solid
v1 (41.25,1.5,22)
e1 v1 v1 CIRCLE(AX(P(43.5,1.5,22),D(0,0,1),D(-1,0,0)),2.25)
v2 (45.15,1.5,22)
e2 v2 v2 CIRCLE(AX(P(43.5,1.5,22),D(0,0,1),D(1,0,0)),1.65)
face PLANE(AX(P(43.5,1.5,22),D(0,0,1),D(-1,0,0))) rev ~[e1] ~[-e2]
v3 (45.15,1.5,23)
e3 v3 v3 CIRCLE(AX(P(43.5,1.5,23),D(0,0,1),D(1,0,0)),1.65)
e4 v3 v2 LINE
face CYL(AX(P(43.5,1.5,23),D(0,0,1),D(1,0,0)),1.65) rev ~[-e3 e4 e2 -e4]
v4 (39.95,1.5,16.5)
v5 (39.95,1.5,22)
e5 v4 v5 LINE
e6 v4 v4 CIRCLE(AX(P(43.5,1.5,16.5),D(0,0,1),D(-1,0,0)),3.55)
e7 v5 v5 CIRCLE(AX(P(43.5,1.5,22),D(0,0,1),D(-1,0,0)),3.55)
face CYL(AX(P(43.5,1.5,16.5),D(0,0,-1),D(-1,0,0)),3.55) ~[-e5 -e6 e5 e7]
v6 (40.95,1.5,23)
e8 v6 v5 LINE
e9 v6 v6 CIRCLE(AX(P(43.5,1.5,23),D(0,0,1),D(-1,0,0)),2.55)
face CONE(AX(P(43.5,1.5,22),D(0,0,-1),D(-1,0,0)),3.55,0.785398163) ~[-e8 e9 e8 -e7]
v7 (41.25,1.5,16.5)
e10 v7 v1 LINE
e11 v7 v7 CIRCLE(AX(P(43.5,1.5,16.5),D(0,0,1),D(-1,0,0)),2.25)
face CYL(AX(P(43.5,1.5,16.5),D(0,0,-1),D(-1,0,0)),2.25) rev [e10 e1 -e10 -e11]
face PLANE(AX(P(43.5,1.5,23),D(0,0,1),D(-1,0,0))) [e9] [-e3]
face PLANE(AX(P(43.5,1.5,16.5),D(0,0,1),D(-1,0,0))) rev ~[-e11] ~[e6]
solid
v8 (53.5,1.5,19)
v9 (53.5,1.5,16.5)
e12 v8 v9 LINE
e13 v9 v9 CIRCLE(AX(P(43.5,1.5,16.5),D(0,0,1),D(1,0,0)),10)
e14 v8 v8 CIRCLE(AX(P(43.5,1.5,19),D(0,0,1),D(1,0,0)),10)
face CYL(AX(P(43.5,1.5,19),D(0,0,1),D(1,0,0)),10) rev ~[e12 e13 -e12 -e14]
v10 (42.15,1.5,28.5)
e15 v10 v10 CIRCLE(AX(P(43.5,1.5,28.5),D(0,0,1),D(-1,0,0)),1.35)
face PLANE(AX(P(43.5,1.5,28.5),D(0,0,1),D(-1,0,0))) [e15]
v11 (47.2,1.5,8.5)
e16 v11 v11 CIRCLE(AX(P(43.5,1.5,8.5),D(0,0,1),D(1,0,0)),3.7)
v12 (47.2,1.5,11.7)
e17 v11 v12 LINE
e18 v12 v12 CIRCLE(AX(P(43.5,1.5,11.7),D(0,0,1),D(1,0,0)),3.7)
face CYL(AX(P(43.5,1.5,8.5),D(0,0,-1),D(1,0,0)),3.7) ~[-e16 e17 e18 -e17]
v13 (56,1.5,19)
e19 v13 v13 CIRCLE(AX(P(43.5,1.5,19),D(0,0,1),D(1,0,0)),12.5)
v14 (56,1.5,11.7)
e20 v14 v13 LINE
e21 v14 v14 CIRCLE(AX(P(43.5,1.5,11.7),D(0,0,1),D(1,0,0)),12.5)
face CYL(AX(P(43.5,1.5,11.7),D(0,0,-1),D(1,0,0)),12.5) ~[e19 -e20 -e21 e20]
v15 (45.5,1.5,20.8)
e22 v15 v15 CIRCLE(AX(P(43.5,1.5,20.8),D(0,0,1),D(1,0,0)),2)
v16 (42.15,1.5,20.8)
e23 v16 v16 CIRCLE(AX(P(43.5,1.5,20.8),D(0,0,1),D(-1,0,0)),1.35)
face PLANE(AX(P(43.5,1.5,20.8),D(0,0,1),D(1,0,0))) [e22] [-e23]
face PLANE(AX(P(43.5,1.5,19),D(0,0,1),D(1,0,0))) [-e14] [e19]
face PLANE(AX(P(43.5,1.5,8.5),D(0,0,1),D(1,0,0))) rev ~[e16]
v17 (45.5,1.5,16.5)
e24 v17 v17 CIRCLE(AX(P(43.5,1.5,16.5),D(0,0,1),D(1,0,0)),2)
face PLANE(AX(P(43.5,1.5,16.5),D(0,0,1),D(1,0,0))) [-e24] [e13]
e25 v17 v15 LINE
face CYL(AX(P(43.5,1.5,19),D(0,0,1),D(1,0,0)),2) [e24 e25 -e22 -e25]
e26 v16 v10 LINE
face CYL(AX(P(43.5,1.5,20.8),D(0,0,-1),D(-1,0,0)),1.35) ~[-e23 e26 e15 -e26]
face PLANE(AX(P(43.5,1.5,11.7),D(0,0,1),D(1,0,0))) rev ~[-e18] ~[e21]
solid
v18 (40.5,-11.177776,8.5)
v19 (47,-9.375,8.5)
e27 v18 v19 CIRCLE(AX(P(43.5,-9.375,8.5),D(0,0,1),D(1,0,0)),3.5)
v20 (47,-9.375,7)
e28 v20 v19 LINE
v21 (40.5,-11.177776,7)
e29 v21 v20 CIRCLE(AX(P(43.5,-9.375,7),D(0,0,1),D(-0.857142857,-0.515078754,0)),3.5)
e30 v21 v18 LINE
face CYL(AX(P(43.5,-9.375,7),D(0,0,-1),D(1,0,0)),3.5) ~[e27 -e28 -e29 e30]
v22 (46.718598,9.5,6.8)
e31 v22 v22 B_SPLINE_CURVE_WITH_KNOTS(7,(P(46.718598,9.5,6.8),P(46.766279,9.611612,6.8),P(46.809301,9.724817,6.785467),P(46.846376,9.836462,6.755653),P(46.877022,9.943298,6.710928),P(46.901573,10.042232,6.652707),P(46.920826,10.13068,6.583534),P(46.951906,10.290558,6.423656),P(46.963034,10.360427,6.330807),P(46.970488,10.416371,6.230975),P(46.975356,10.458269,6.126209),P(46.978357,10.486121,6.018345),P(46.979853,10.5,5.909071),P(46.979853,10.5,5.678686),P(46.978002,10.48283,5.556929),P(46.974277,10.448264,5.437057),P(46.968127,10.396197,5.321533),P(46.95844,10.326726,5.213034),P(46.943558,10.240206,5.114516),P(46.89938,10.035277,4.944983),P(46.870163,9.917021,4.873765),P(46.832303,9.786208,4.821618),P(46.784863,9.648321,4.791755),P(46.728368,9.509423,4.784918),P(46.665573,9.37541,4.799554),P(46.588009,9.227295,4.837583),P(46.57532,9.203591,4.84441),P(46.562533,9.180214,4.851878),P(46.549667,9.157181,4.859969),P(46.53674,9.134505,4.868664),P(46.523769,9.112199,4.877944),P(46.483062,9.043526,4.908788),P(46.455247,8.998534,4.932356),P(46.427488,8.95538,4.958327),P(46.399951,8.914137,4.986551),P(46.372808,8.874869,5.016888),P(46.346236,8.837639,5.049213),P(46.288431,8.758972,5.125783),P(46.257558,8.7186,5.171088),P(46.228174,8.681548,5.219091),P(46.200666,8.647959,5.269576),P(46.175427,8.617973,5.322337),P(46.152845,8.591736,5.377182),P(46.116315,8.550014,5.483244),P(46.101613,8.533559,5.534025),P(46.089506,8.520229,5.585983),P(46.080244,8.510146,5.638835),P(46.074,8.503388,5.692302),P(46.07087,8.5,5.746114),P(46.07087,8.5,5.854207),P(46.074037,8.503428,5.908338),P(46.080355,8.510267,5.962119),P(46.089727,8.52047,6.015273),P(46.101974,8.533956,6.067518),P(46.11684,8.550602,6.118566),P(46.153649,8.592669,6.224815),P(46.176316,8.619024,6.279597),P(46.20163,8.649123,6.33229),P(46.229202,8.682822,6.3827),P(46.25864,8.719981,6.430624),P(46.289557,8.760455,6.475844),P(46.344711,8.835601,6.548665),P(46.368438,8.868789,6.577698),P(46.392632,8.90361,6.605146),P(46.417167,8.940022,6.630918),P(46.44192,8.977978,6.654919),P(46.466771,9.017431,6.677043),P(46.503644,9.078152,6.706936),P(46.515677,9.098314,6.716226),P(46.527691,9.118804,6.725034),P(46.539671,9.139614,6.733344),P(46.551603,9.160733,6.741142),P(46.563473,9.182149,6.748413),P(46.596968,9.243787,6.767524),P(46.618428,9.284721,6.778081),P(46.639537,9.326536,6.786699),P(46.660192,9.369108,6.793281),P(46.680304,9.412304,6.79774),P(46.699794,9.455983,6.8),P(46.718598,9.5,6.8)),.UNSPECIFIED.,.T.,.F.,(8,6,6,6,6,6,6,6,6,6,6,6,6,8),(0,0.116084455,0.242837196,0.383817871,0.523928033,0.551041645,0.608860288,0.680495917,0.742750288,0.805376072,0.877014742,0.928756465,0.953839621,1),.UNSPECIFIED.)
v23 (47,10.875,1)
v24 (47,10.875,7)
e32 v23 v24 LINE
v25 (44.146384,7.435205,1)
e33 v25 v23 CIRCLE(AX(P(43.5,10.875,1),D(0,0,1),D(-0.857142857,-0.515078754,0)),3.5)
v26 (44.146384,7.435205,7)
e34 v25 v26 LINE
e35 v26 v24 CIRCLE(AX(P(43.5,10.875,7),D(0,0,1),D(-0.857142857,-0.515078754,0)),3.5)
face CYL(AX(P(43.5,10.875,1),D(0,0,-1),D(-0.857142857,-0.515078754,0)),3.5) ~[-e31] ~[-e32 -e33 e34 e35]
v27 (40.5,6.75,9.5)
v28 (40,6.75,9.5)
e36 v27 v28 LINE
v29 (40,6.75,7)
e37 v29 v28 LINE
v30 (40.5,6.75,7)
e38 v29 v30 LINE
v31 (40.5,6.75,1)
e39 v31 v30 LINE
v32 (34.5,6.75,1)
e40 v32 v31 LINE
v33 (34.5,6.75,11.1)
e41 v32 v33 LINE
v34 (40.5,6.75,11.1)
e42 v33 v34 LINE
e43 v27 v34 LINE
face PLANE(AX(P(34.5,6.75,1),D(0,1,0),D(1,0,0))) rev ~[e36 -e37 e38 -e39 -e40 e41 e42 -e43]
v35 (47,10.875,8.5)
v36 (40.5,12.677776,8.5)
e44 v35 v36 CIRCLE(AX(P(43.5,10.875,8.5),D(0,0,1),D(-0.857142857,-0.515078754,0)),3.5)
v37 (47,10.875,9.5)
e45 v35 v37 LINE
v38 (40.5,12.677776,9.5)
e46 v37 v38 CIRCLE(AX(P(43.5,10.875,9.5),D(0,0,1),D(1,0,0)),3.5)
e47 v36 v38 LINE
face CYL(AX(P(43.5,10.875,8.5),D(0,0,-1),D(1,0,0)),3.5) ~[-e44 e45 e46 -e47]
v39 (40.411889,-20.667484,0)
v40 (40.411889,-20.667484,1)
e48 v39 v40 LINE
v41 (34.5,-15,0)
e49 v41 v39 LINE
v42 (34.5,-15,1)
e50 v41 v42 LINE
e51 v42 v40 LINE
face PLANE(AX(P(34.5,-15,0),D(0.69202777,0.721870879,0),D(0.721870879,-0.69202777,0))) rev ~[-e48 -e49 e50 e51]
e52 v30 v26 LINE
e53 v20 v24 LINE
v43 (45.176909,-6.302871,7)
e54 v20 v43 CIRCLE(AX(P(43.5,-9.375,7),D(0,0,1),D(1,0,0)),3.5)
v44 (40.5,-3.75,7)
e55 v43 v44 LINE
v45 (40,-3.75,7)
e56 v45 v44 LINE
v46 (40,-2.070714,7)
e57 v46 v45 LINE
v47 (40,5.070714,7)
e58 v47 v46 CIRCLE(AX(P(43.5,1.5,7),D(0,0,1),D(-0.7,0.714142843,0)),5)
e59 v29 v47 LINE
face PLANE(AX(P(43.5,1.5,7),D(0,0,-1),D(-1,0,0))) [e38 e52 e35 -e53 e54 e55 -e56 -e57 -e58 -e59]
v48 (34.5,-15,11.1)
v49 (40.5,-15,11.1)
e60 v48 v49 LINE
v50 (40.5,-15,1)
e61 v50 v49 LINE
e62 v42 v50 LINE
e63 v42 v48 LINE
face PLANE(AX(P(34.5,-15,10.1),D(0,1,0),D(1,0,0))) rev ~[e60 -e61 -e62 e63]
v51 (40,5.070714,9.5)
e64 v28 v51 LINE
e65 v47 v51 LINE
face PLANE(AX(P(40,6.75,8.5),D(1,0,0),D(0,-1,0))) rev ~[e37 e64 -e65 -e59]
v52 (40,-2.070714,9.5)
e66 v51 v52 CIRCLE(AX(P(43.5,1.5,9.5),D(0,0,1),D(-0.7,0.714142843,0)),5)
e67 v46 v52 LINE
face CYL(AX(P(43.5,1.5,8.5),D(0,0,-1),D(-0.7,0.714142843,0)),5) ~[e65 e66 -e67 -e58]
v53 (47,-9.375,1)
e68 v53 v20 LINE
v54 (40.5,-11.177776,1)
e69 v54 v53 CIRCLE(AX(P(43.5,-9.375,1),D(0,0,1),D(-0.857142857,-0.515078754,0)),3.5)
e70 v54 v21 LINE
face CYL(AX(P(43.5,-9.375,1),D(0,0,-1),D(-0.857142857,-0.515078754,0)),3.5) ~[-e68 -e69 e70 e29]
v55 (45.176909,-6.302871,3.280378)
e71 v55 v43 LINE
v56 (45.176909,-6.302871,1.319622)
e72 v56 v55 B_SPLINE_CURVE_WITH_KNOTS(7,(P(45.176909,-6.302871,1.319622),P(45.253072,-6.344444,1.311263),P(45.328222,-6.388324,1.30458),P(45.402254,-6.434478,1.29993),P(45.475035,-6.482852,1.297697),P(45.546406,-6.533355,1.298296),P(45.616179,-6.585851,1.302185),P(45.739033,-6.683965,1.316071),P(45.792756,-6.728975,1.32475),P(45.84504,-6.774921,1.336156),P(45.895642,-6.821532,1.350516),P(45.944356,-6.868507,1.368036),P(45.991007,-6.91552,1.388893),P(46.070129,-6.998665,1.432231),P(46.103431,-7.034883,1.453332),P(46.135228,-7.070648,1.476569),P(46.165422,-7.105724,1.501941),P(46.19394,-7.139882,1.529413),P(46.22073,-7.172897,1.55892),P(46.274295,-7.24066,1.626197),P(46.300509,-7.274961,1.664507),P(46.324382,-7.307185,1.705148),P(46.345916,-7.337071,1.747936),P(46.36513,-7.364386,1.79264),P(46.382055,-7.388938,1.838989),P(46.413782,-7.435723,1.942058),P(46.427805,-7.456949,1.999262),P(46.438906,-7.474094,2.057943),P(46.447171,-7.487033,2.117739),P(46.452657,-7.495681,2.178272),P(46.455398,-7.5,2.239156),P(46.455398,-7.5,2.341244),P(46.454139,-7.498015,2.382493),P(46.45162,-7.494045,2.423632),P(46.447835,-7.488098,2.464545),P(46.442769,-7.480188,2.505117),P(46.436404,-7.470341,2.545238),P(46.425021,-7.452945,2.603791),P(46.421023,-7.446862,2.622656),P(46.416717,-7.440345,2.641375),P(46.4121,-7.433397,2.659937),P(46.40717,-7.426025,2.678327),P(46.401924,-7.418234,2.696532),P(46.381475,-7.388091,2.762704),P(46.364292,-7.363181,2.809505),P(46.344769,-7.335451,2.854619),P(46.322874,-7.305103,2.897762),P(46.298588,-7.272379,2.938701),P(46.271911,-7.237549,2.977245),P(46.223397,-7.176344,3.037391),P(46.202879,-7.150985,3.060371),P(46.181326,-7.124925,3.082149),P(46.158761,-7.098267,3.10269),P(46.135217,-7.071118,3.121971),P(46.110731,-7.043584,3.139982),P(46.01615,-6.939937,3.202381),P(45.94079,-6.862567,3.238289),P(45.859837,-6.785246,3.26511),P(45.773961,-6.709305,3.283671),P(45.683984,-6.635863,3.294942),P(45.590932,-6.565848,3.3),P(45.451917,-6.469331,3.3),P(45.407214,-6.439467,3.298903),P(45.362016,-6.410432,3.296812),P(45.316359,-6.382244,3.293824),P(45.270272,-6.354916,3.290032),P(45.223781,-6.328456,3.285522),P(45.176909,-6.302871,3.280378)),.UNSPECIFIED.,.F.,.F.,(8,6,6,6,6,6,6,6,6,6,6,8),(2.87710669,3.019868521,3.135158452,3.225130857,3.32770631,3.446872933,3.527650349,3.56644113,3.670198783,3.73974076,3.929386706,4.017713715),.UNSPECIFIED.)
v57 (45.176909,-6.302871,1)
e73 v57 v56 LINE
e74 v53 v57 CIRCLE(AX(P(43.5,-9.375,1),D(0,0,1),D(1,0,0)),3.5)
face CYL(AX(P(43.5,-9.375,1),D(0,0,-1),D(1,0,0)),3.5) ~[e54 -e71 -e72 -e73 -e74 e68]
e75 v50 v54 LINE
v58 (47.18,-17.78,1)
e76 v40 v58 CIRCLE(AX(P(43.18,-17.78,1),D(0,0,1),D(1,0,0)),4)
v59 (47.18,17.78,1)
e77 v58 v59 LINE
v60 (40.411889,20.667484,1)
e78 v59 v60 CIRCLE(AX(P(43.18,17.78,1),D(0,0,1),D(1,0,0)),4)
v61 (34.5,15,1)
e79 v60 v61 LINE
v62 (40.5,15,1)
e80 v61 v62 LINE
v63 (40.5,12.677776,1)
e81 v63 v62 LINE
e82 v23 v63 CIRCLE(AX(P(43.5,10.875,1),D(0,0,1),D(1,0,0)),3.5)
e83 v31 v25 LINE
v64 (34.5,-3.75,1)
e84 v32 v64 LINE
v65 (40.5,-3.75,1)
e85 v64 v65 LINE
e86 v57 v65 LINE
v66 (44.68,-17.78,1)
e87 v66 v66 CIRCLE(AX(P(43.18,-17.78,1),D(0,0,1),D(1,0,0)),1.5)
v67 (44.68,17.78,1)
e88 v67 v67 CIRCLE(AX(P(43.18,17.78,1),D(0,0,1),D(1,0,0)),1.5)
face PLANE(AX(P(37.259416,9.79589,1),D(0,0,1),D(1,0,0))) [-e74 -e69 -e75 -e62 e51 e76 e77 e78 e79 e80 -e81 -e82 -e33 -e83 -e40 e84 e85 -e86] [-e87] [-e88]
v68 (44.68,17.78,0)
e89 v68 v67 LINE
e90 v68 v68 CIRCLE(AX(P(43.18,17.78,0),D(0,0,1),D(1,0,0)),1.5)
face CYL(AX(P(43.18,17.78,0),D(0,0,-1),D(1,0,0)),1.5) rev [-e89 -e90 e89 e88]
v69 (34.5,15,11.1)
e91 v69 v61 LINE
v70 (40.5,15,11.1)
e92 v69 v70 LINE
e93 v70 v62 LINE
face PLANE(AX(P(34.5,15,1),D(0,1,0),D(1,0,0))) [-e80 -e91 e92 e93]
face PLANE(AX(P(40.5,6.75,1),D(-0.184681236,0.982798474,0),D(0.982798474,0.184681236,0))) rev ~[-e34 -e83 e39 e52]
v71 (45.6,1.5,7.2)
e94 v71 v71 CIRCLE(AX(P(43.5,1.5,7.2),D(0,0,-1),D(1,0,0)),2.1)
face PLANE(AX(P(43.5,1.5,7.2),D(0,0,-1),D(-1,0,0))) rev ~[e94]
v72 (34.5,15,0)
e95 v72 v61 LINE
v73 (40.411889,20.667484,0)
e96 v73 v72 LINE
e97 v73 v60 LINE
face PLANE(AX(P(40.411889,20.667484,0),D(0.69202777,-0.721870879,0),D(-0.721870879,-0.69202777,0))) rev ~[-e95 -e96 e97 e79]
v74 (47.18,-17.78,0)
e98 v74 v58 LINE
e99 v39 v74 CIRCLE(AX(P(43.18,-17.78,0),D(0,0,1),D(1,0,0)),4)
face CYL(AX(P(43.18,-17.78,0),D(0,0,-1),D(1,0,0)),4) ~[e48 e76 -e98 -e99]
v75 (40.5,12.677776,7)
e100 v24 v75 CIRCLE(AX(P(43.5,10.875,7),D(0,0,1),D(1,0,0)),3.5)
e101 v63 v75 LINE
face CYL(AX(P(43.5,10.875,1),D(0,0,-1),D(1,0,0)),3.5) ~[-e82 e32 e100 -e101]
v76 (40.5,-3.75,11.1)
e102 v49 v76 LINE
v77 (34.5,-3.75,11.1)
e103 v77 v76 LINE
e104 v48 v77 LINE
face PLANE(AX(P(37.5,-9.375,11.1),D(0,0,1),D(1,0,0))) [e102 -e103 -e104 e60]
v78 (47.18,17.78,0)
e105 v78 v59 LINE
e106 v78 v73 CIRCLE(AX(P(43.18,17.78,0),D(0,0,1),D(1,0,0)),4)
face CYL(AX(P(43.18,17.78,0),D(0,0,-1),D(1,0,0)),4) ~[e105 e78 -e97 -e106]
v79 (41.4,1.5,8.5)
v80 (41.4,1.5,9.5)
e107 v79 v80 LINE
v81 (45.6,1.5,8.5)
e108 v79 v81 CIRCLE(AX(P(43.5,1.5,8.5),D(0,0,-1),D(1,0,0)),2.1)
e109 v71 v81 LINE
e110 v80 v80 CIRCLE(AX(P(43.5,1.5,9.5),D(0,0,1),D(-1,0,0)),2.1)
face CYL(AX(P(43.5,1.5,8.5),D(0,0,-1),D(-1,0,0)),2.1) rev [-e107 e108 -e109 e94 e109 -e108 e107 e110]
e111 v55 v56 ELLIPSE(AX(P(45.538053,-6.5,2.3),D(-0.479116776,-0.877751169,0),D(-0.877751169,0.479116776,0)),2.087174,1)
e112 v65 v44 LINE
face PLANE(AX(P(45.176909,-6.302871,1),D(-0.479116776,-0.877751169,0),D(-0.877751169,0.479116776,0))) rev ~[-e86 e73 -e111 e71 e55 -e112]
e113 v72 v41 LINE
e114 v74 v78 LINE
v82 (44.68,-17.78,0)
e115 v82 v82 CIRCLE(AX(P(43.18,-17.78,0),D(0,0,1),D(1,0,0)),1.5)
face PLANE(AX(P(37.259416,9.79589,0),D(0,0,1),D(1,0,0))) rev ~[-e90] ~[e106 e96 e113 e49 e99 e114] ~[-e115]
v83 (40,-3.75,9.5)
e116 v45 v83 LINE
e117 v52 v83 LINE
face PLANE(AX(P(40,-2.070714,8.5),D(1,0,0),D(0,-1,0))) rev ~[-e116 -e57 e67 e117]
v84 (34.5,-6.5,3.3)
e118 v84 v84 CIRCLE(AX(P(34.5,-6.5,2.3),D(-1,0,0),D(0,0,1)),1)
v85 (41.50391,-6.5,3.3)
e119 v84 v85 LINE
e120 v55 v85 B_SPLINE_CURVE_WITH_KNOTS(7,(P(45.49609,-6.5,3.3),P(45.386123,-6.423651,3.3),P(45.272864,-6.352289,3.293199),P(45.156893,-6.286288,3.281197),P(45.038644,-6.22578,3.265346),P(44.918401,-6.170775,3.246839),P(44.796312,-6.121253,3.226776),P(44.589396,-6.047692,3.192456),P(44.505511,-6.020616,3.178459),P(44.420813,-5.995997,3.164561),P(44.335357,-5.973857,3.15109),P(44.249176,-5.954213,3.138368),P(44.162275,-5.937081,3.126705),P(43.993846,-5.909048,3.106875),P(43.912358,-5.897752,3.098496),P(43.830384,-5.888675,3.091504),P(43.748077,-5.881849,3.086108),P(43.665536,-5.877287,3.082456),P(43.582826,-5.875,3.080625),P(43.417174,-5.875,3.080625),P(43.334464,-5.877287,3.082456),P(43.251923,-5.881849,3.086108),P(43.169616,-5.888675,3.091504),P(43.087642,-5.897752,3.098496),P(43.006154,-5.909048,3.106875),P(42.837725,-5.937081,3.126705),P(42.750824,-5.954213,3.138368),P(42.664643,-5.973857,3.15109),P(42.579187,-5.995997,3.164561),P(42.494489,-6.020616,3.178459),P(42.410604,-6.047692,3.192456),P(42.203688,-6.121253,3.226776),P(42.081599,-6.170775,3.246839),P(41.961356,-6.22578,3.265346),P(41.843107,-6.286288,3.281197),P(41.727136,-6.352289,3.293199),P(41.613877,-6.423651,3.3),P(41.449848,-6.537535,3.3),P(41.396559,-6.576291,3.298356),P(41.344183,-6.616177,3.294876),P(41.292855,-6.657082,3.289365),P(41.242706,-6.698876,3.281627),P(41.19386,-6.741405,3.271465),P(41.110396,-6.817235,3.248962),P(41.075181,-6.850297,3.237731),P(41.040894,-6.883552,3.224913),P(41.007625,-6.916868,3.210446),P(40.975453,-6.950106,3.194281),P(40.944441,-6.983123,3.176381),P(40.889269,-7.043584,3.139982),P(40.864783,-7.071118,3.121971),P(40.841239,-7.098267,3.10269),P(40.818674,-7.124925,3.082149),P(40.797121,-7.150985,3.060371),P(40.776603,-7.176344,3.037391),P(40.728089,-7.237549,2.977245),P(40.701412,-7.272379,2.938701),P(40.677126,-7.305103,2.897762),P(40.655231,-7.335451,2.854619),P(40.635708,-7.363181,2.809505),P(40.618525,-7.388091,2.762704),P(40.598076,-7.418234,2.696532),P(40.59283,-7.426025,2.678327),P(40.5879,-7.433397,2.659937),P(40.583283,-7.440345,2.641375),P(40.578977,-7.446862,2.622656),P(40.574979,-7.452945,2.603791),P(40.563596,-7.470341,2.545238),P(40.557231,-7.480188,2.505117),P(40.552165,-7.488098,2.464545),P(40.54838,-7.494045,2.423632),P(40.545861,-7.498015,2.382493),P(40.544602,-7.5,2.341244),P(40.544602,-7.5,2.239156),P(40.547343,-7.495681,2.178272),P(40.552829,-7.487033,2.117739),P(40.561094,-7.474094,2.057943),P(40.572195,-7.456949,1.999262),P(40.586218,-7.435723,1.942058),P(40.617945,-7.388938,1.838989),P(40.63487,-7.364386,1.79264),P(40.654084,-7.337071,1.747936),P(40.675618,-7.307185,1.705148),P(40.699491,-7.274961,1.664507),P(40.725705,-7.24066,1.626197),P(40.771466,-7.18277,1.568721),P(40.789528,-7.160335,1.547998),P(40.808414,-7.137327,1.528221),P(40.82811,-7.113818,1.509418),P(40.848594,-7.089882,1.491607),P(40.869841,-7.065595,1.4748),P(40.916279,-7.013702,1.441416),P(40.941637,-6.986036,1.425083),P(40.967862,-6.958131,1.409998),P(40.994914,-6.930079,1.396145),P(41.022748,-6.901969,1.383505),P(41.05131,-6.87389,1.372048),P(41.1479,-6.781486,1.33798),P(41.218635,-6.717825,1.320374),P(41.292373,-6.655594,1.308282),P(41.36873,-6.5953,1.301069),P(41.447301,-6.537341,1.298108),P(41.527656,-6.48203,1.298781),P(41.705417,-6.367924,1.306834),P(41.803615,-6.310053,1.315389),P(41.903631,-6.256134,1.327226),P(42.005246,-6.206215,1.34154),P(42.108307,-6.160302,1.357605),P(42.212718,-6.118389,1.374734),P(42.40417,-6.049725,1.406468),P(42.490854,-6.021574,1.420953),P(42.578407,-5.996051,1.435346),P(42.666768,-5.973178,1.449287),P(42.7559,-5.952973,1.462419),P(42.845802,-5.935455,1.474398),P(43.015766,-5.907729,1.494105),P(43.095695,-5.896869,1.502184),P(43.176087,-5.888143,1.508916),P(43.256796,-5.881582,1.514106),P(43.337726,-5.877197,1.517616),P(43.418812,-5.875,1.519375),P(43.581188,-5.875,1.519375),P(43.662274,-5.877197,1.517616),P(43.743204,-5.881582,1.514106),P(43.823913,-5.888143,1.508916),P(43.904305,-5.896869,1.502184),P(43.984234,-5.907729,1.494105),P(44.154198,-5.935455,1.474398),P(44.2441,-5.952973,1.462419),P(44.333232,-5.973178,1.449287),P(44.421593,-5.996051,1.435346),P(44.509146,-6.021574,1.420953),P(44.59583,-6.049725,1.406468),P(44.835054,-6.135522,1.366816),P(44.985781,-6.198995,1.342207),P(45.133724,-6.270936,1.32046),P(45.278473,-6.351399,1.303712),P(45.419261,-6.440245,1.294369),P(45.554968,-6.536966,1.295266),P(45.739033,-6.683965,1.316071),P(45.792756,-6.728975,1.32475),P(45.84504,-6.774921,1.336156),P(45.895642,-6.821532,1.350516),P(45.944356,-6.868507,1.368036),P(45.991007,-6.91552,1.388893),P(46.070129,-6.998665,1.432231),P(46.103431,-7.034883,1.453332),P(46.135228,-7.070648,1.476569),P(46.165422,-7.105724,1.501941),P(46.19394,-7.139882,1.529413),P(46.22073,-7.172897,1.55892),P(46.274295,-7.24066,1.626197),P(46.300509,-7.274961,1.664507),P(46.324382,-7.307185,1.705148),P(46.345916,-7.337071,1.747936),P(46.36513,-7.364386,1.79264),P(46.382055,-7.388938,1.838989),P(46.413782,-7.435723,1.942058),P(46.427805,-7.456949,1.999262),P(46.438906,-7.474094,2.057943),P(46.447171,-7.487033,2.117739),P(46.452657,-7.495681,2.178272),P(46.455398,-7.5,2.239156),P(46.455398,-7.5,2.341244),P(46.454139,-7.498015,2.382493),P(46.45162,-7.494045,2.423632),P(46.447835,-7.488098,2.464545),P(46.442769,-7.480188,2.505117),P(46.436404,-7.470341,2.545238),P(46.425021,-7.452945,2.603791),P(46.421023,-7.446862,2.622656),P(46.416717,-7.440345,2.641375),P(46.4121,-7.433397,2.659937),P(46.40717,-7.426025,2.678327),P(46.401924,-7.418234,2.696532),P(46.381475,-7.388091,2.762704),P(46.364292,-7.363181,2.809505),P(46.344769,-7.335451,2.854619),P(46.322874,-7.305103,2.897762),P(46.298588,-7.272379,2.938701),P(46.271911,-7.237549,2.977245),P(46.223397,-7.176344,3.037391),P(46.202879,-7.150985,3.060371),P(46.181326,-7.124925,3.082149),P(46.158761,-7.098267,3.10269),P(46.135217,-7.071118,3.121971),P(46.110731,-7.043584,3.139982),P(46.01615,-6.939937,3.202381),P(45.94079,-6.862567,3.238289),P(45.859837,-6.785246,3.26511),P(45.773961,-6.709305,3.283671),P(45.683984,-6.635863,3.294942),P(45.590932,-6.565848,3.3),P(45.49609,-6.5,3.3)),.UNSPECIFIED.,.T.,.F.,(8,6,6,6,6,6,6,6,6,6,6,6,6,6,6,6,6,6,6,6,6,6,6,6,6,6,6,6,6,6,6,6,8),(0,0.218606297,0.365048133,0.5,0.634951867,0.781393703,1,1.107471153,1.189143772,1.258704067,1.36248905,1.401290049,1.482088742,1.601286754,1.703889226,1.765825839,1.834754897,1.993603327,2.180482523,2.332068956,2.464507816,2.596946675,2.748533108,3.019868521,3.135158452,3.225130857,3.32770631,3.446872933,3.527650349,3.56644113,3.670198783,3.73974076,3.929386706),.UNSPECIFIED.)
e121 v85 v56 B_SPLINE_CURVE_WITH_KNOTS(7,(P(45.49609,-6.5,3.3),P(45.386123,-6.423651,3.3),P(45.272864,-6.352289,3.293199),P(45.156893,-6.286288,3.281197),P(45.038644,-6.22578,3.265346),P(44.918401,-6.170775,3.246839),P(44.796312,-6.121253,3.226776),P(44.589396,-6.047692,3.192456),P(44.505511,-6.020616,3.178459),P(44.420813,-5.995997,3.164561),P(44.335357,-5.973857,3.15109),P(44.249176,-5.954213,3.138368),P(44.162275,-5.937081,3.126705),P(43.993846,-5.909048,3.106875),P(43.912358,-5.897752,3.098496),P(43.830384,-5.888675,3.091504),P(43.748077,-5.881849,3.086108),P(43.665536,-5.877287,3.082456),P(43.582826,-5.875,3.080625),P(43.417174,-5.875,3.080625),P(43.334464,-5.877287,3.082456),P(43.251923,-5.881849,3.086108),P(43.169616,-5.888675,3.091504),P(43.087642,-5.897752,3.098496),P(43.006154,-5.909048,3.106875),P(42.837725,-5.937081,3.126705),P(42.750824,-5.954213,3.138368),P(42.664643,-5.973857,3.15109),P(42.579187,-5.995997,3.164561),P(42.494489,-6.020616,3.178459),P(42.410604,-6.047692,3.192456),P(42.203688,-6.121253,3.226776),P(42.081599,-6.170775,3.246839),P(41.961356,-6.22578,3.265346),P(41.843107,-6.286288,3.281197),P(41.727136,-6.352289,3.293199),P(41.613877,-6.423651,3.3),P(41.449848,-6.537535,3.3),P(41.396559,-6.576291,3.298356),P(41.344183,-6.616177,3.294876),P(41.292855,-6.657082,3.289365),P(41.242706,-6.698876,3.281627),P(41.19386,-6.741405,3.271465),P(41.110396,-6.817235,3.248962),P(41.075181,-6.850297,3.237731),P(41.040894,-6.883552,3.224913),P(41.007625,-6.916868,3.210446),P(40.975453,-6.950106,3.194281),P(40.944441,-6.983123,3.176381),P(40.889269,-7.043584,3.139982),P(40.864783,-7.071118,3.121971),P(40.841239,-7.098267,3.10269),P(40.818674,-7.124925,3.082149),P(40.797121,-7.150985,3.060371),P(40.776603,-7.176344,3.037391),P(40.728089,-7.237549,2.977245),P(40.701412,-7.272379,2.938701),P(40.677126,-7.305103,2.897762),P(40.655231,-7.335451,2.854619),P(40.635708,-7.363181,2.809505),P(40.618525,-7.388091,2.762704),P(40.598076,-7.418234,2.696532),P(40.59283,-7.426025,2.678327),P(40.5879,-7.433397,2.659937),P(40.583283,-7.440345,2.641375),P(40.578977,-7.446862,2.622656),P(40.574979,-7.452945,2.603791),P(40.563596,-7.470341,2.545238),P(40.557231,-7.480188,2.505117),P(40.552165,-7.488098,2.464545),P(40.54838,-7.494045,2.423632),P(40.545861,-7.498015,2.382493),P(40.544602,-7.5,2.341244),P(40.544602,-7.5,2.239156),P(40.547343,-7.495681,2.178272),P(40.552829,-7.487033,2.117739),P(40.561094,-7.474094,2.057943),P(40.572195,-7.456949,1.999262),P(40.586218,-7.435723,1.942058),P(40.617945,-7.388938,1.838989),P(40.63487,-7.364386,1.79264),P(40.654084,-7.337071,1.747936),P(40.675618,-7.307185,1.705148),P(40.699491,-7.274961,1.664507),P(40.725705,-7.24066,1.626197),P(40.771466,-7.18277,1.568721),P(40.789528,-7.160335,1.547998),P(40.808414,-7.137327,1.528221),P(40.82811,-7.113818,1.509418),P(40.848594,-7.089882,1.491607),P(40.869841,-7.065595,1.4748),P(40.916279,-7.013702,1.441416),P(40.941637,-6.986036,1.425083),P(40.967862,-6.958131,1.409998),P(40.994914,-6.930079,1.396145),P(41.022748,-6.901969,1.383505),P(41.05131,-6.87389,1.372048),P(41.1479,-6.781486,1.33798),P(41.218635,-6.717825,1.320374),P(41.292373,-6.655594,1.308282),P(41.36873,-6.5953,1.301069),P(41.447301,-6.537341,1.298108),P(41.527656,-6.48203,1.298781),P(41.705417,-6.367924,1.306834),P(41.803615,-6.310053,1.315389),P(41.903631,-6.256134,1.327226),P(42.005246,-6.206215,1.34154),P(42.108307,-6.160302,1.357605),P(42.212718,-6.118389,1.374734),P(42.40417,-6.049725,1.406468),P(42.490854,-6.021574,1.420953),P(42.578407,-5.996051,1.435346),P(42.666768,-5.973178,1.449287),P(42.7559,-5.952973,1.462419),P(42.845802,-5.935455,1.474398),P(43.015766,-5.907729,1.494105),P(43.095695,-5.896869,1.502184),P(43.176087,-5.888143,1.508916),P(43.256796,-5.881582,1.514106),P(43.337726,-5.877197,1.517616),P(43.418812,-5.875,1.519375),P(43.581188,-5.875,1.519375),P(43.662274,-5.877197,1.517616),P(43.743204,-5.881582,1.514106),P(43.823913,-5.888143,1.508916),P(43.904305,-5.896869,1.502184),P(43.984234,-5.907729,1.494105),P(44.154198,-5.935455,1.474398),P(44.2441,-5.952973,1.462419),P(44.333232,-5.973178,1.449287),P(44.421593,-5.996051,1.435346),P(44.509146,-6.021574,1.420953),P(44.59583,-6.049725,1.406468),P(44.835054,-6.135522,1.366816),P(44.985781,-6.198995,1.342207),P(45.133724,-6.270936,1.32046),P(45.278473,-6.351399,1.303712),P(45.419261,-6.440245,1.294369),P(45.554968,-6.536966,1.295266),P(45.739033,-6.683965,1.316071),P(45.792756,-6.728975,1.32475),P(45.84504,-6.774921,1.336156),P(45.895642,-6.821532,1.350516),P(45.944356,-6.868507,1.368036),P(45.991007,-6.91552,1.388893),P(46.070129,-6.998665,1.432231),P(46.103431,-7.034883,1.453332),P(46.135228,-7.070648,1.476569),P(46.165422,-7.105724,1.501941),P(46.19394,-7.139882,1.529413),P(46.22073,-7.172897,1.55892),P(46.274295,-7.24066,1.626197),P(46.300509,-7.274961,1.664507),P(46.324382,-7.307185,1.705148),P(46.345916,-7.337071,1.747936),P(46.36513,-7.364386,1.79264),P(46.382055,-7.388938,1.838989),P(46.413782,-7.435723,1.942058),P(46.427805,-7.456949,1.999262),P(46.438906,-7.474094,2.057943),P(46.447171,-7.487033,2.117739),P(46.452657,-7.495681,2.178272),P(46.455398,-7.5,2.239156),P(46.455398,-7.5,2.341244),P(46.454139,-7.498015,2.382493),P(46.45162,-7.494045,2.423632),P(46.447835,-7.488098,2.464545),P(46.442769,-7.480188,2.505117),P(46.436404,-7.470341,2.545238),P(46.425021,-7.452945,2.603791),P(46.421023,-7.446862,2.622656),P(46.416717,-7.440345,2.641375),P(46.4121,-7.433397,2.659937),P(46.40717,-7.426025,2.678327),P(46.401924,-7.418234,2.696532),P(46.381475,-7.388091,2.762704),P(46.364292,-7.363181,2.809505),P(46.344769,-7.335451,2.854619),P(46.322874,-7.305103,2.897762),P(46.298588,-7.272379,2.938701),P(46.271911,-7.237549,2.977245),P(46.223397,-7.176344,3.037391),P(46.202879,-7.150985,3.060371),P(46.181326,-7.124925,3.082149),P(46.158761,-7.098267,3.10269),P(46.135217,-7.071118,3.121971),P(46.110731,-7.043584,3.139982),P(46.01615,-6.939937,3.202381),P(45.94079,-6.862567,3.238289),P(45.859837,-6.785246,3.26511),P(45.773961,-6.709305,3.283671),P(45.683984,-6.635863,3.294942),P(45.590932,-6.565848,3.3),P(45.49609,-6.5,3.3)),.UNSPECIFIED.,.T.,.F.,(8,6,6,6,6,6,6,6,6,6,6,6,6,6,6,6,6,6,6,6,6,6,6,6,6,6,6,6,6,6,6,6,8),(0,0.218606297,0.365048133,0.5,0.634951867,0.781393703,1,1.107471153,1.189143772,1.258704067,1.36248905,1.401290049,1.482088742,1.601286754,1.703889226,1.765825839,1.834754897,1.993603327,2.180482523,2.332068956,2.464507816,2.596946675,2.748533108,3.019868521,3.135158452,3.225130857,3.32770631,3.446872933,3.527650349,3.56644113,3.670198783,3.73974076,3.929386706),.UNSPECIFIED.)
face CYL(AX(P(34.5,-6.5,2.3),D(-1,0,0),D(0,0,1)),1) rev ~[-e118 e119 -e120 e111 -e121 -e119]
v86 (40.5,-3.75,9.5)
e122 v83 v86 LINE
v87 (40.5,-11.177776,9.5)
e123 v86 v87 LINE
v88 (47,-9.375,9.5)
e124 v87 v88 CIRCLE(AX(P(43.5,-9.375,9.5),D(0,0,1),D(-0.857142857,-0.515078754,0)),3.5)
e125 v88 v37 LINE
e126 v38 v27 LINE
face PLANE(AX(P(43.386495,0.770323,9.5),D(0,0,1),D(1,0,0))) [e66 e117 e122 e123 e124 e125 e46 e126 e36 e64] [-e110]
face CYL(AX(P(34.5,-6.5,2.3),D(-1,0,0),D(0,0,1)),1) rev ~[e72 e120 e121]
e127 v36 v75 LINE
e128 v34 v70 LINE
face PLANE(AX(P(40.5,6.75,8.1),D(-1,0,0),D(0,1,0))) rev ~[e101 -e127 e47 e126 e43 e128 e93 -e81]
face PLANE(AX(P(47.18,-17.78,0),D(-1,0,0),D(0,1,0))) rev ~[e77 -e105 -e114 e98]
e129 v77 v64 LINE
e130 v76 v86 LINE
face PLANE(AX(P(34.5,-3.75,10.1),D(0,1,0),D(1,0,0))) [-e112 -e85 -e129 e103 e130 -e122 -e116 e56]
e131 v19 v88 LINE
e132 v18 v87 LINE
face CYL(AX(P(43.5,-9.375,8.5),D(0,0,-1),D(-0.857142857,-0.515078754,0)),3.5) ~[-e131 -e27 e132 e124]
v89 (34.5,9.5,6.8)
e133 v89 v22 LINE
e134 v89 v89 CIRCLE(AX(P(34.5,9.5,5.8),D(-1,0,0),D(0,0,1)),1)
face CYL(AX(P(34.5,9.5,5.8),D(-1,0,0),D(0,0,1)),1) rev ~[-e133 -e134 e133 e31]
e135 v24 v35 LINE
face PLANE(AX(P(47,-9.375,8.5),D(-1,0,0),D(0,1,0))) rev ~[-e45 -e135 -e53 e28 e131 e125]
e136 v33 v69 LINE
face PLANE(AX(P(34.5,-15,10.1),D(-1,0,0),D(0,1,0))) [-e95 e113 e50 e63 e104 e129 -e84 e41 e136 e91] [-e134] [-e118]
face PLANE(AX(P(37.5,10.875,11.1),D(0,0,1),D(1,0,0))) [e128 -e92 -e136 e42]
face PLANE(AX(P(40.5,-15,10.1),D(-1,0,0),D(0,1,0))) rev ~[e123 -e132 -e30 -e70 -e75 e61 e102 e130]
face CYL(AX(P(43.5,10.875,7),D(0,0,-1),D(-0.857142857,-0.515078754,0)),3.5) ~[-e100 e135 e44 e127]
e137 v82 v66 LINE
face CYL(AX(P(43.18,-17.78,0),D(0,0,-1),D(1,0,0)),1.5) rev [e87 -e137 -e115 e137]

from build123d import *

# Parameters (mm, degrees)
SKETCH1_R            = 4
SKETCH1_R_2          = 1.5
BOSS_EXTRUDE1_DEPTH  = 1
BOSS_EXTRUDE2_START  = -1
BOSS_EXTRUDE2_DEPTH  = 1
SKETCH3_W            = 6
SKETCH3_H            = 8.25
SKETCH3_H_2          = 11.25
BOSS_EXTRUDE3_DEPTH  = 7.1
BOSS_EXTRUDE4_DEPTH  = 6
SKETCH5_R            = 3.5
BOSS_EXTRUDE5_DEPTH  = 1.5
SKETCH4_3_R          = 2.1
CUT_EXTRUDE1_DEPTH   = 12
SKETCH6_R            = 1
CUT_EXTRUDE2_DEPTH   = 13
SKETCH7_R            = 3.7
BOSS_EXTRUDE6_DEPTH  = 3.2
SKETCH8_R            = 12.5
BOSS_EXTRUDE7_DEPTH  = 7.3
SKETCH9_R            = 2
BOSS_EXTRUDE8_DEPTH  = 1.8
SKETCH10_R           = 1.35
BOSS_EXTRUDE9_DEPTH  = 7.7
BOSS_EXTRUDE10_DEPTH = 2
BOSS_EXTRUDE11_DEPTH = 6
SKETCH14_R           = 1
CUT_EXTRUDE3_DEPTH   = 42.819473933
BOSS_EXTRUDE12_DEPTH = 1.5
SKETCH16_R           = 2.1
BOSS_EXTRUDE13_DEPTH = 0.2
SKETCH17_R           = 2.1
BOSS_EXTRUDE14_DEPTH = 1
SKETCH18_W           = 6
SKETCH18_H           = 11.25
SKETCH18_H_2         = 8.25
BOSS_EXTRUDE15_DEPTH = 1
SKETCH19_R           = 10
SKETCH19_R_2         = 2
CUT_EXTRUDE4_DEPTH   = 2.5
SKETCH20_R           = 3.55
SKETCH20_R_2         = 2.25
BOSS_EXTRUDE16_DEPTH = 6.5
SKETCH21_R           = 2.25
SKETCH21_R_2         = 1.65
BOSS_EXTRUDE17_DEPTH = 1
CHAMFER1_SIZE        = 1


with BuildPart() as part:
    # Sketch1 → Boss-Extrude1 (new body)
    # profile 1 of 3: a face of its own
    with BuildSketch(Plane.XY):
        with BuildLine():
            Line((47.18, -17.78), (47.18, 17.78))
            ThreePointArc((47.18, 17.78), (43.18, 13.78), (39.18, 17.78))
            Line((39.18, 17.78), (39.18, -17.78))
            ThreePointArc((39.18, -17.78), (43.18, -13.78), (47.18, -17.78))
        make_face()
    # profile 2 of 3: a face of its own
    with BuildSketch(Plane.XY):
        with Locations((43.18, 17.78)):
            Circle(SKETCH1_R)
        with Locations((43.18, 17.78)):
            Circle(SKETCH1_R_2, mode=Mode.SUBTRACT)
    # profile 3 of 3: a face of its own
    with BuildSketch(Plane.XY):
        with Locations((43.18, -17.78)):
            Circle(SKETCH1_R)
        with Locations((43.18, -17.78)):
            Circle(SKETCH1_R_2, mode=Mode.SUBTRACT)
    extrude(amount=BOSS_EXTRUDE1_DEPTH)

    # Sketch2 → Boss-Extrude2 (add)
    with BuildSketch(Plane.XY.offset(1).offset(BOSS_EXTRUDE2_START)):
        with BuildLine():
            ThreePointArc((39.18, 17.78), (39.500839476, 19.349642584), (40.41188892, 20.667483515))
            Line((40.41188892, 20.667483515), (34.5, 15))
            Line((34.5, 15), (34.5, 0))
            Line((34.5, 0), (39.18, 0))
            Line((39.18, 0), (39.18, 17.78))
        make_face()
        with BuildLine():
            Line((39.18, 0), (34.5, 0))
            Line((34.5, 0), (34.5, -15))
            Line((34.5, -15), (40.41188892, -20.667483515))
            ThreePointArc((40.41188892, -20.667483515), (39.500839476, -19.349642584), (39.18, -17.78))
            Line((39.18, -17.78), (39.18, 0))
        make_face()
    extrude(amount=BOSS_EXTRUDE2_DEPTH)

    # Sketch3 → Boss-Extrude3 (add)
    with BuildSketch(Plane.XY.offset(1)):
        with Locations((37.5, 10.875)):
            Rectangle(SKETCH3_W, SKETCH3_H)
        with Locations((37.5, -9.375)):
            Rectangle(SKETCH3_W, SKETCH3_H_2)
    extrude(amount=BOSS_EXTRUDE3_DEPTH)

    # Sketch4 → Boss-Extrude4 (add)
    with BuildSketch(Plane.XY.offset(1)):
        with BuildLine():
            ThreePointArc((40.5, 9.072224362), (44.435414347, 7.502315609), (47, 10.875))
            ThreePointArc((47, 10.875), (44.435414347, 14.247684391), (40.5, 12.677775638))
            Line((40.5, 12.677775638), (40.5, 9.072224362))
        make_face()
        with BuildLine():
            Line((40.5, 9.072224362), (40.5, 12.677775638))
            ThreePointArc((40.5, 12.677775638), (40, 10.875), (40.5, 9.072224362))
        make_face()
        with BuildLine():
            ThreePointArc((40.5, -11.177775638), (44.435414347, -12.747684391), (47, -9.375))
            ThreePointArc((47, -9.375), (44.435414347, -6.002315609), (40.5, -7.572224362))
            Line((40.5, -7.572224362), (40.5, -11.177775638))
        make_face()
        with BuildLine():
            Line((40.5, -11.177775638), (40.5, -7.572224362))
            ThreePointArc((40.5, -7.572224362), (40, -9.375), (40.5, -11.177775638))
        make_face()
    extrude(amount=BOSS_EXTRUDE4_DEPTH)

    # Sketch5 → Boss-Extrude5 (add)
    with BuildSketch(Plane.XY.offset(7)):
        with BuildLine():
            ThreePointArc((40.5, 9.072224362), (47, 10.875), (40.5, 12.677775638))
            Line((40.5, 12.677775638), (40.5, 9.072224362))
        make_face()
        with BuildLine():
            Line((47, -9.375), (47, 10.875))
            ThreePointArc((47, 10.875), (44.435414347, 7.502315609), (40.5, 9.072224362))
            ThreePointArc((40.5, 9.072224362), (40.127315609, 9.939585653), (40, 10.875))
            Line((40, 10.875), (40, -9.375))
            ThreePointArc((40, -9.375), (43.5, -5.875), (47, -9.375))
        make_face()
        with Locations((43.5, -9.375)):
            Circle(SKETCH5_R)
    extrude(amount=BOSS_EXTRUDE5_DEPTH)

    # Sketch4<3> → Cut-Extrude1 (cut)
    with BuildSketch(Plane.XY.offset(1)):
        with Locations((43.5, 1.5)):
            Circle(SKETCH4_3_R)
    extrude(amount=CUT_EXTRUDE1_DEPTH, mode=Mode.SUBTRACT)

    # Sketch6 → Cut-Extrude2 (cut)
    with BuildSketch(Plane.ZY.offset(-34.5)):
        with Locations((5.8, 9.5)):
            Circle(SKETCH6_R)
        with Locations((2.3, -6.5)):
            Circle(SKETCH6_R)
    extrude(amount=-CUT_EXTRUDE2_DEPTH, mode=Mode.SUBTRACT)

    # Sketch11 → Boss-Extrude10 (add)
    with BuildSketch(Plane.XY.offset(8.1)):
        Polygon((40, -3.75), (34.5, -3.75), (34.5, -15), (40, -15), (40, -9.375), align=None)
        with BuildLine():
            Line((40, -9.375), (40, -15))
            Line((40, -15), (40.5, -15))
            Line((40.5, -15), (40.5, -11.177775638))
            ThreePointArc((40.5, -11.177775638), (40.127315609, -10.310414347), (40, -9.375))
        make_face()
        with BuildLine():
            Line((40.5, -3.75), (40, -3.75))
            Line((40, -3.75), (40, -9.375))
            ThreePointArc((40, -9.375), (40.127315609, -10.310414347), (40.5, -11.177775638))
            Line((40.5, -11.177775638), (40.5, -3.75))
        make_face()
        Polygon((34.5, 6.75), (40, 6.75), (40, 10.875), (40, 15), (34.5, 15), align=None)
        with BuildLine():
            Line((40, 10.875), (40, 6.75))
            Line((40, 6.75), (40.5, 6.75))
            Line((40.5, 6.75), (40.5, 9.072224362))
            ThreePointArc((40.5, 9.072224362), (40.127315609, 9.939585653), (40, 10.875))
        make_face()
        with BuildLine():
            Line((40, 15), (40, 10.875))
            ThreePointArc((40, 10.875), (40.127315609, 9.939585653), (40.5, 9.072224362))
            Line((40.5, 9.072224362), (40.5, 12.677775638))
            Line((40.5, 12.677775638), (40.5, 15))
            Line((40.5, 15), (40, 15))
        make_face()
    extrude(amount=BOSS_EXTRUDE10_DEPTH)

    # Sketch13 → Boss-Extrude11 (add)
    with BuildSketch(Plane.XY.offset(1)):
        with BuildLine():
            Line((45.176908715, -6.302870907), (40.5, -3.75))
            Line((40.5, -3.75), (40.5, -7.572224362))
            ThreePointArc((40.5, -7.572224362), (42.58323548, -5.997198523), (45.176908715, -6.302870907))
        make_face()
        with BuildLine():
            Line((40.5, 9.072224362), (40.5, 6.75))
            Line((40.5, 6.75), (44.146384325, 7.43520534))
            ThreePointArc((44.146384325, 7.43520534), (42.066530605, 7.682013077), (40.5, 9.072224362))
        make_face()
    extrude(amount=BOSS_EXTRUDE11_DEPTH)

    # Sketch14 → Cut-Extrude3 (cut, through all)
    with BuildSketch(Plane.ZY.offset(-34.5)):
        with Locations((5.8, 9.5)):
            Circle(SKETCH14_R)
        with Locations((2.3, -6.5)):
            Circle(SKETCH14_R)
    extrude(amount=-CUT_EXTRUDE3_DEPTH, mode=Mode.SUBTRACT)

    # Sketch15 → Boss-Extrude12 (add)
    with BuildSketch(Plane.XY.offset(8.5)):
        with BuildLine():
            Line((40, -2.070714214), (40, 5.070714214))
            ThreePointArc((40, 5.070714214), (38.5, 1.5), (40, -2.070714214))
        make_face()
    extrude(amount=-BOSS_EXTRUDE12_DEPTH)

    # Sketch16 → Boss-Extrude13 (add)
    with BuildSketch(Plane(origin=(0, 0, 7), x_dir=(-1, 0, 0), z_dir=(0, 0, -1))):
        with Locations((-43.5, 1.5)):
            Circle(SKETCH16_R)
    extrude(amount=-BOSS_EXTRUDE13_DEPTH)

    # Sketch17 → Boss-Extrude14 (add)
    with BuildSketch(Plane.XY.offset(8.5)):
        with BuildLine():
            Line((40.5, 12.677775638), (40.5, 6.75))
            Line((40.5, 6.75), (40, 6.75))
            Line((40, 6.75), (40, 5.070714214))
            ThreePointArc((40, 5.070714214), (38.5, 1.5), (40, -2.070714214))
            Line((40, -2.070714214), (40, -3.75))
            Line((40, -3.75), (40.5, -3.75))
            Line((40.5, -3.75), (40.5, -11.177775638))
            ThreePointArc((40.5, -11.177775638), (44.435414347, -12.747684391), (47, -9.375))
            Line((47, -9.375), (47, 10.875))
            ThreePointArc((47, 10.875), (44.435414347, 14.247684391), (40.5, 12.677775638))
        make_face()
        with Locations(Location((43.5, 1.5, 0), (0, 0, 180))):
            Circle(SKETCH17_R, mode=Mode.SUBTRACT)
    extrude(amount=BOSS_EXTRUDE14_DEPTH)

    # Sketch18 → Boss-Extrude15 (add)
    with BuildSketch(Plane.XY.offset(10.1)):
        with Locations((37.5, -9.375)):
            Rectangle(SKETCH18_W, SKETCH18_H)
        with Locations((37.5, 10.875)):
            Rectangle(SKETCH18_W, SKETCH18_H_2)
    extrude(amount=BOSS_EXTRUDE15_DEPTH)


with BuildPart() as body_2:
    # Sketch7 → Boss-Extrude6 (new body)
    with BuildSketch(Plane.XY.offset(8.5)):
        with Locations((43.5, 1.5)):
            Circle(SKETCH7_R)
    extrude(amount=BOSS_EXTRUDE6_DEPTH)

    # Sketch8 → Boss-Extrude7 (add)
    with BuildSketch(Plane.XY.offset(11.7)):
        with Locations((43.5, 1.5)):
            Circle(SKETCH8_R)
    extrude(amount=BOSS_EXTRUDE7_DEPTH)

    # Sketch9 → Boss-Extrude8 (add)
    with BuildSketch(Plane.XY.offset(19)):
        with Locations((43.5, 1.5)):
            Circle(SKETCH9_R)
    extrude(amount=BOSS_EXTRUDE8_DEPTH)

    # Sketch10 → Boss-Extrude9 (add)
    with BuildSketch(Plane.XY.offset(20.8)):
        with Locations(Location((43.5, 1.5, 0), (0, 0, 180))):
            Circle(SKETCH10_R)
    extrude(amount=BOSS_EXTRUDE9_DEPTH)

    # Sketch19 → Cut-Extrude4 (cut)
    with BuildSketch(Plane.XY.offset(19)):
        with Locations((43.5, 1.5)):
            Circle(SKETCH19_R)
        with Locations((43.5, 1.5)):
            Circle(SKETCH19_R_2, mode=Mode.SUBTRACT)
    extrude(amount=-CUT_EXTRUDE4_DEPTH, mode=Mode.SUBTRACT)


with BuildPart() as body_3:
    # Sketch20 → Boss-Extrude16 (new body)
    with BuildSketch(Plane.XY.offset(16.5)):
        with Locations(Location((43.5, 1.5, 0), (0, 0, 180))):
            Circle(SKETCH20_R)
        with Locations(Location((43.5, 1.5, 0), (0, 0, 180))):
            Circle(SKETCH20_R_2, mode=Mode.SUBTRACT)
    extrude(amount=BOSS_EXTRUDE16_DEPTH)

    # Sketch21 → Boss-Extrude17 (add)
    with BuildSketch(Plane.XY.offset(23)):
        with Locations(Location((43.5, 1.5, 0), (0, 0, 180))):
            Circle(SKETCH21_R)
        with Locations((43.5, 1.5)):
            Circle(SKETCH21_R_2, mode=Mode.SUBTRACT)
    extrude(amount=-BOSS_EXTRUDE17_DEPTH)

    # Chamfer1
    chamfer1_edges = [body_3.edges().sort_by_distance(p)[0] for p in [
        (47.05, 1.5, 23),
    ]]
    chamfer(chamfer1_edges, length=CHAMFER1_SIZE)


solid = Compound([part.part, body_2.part, body_3.part])
